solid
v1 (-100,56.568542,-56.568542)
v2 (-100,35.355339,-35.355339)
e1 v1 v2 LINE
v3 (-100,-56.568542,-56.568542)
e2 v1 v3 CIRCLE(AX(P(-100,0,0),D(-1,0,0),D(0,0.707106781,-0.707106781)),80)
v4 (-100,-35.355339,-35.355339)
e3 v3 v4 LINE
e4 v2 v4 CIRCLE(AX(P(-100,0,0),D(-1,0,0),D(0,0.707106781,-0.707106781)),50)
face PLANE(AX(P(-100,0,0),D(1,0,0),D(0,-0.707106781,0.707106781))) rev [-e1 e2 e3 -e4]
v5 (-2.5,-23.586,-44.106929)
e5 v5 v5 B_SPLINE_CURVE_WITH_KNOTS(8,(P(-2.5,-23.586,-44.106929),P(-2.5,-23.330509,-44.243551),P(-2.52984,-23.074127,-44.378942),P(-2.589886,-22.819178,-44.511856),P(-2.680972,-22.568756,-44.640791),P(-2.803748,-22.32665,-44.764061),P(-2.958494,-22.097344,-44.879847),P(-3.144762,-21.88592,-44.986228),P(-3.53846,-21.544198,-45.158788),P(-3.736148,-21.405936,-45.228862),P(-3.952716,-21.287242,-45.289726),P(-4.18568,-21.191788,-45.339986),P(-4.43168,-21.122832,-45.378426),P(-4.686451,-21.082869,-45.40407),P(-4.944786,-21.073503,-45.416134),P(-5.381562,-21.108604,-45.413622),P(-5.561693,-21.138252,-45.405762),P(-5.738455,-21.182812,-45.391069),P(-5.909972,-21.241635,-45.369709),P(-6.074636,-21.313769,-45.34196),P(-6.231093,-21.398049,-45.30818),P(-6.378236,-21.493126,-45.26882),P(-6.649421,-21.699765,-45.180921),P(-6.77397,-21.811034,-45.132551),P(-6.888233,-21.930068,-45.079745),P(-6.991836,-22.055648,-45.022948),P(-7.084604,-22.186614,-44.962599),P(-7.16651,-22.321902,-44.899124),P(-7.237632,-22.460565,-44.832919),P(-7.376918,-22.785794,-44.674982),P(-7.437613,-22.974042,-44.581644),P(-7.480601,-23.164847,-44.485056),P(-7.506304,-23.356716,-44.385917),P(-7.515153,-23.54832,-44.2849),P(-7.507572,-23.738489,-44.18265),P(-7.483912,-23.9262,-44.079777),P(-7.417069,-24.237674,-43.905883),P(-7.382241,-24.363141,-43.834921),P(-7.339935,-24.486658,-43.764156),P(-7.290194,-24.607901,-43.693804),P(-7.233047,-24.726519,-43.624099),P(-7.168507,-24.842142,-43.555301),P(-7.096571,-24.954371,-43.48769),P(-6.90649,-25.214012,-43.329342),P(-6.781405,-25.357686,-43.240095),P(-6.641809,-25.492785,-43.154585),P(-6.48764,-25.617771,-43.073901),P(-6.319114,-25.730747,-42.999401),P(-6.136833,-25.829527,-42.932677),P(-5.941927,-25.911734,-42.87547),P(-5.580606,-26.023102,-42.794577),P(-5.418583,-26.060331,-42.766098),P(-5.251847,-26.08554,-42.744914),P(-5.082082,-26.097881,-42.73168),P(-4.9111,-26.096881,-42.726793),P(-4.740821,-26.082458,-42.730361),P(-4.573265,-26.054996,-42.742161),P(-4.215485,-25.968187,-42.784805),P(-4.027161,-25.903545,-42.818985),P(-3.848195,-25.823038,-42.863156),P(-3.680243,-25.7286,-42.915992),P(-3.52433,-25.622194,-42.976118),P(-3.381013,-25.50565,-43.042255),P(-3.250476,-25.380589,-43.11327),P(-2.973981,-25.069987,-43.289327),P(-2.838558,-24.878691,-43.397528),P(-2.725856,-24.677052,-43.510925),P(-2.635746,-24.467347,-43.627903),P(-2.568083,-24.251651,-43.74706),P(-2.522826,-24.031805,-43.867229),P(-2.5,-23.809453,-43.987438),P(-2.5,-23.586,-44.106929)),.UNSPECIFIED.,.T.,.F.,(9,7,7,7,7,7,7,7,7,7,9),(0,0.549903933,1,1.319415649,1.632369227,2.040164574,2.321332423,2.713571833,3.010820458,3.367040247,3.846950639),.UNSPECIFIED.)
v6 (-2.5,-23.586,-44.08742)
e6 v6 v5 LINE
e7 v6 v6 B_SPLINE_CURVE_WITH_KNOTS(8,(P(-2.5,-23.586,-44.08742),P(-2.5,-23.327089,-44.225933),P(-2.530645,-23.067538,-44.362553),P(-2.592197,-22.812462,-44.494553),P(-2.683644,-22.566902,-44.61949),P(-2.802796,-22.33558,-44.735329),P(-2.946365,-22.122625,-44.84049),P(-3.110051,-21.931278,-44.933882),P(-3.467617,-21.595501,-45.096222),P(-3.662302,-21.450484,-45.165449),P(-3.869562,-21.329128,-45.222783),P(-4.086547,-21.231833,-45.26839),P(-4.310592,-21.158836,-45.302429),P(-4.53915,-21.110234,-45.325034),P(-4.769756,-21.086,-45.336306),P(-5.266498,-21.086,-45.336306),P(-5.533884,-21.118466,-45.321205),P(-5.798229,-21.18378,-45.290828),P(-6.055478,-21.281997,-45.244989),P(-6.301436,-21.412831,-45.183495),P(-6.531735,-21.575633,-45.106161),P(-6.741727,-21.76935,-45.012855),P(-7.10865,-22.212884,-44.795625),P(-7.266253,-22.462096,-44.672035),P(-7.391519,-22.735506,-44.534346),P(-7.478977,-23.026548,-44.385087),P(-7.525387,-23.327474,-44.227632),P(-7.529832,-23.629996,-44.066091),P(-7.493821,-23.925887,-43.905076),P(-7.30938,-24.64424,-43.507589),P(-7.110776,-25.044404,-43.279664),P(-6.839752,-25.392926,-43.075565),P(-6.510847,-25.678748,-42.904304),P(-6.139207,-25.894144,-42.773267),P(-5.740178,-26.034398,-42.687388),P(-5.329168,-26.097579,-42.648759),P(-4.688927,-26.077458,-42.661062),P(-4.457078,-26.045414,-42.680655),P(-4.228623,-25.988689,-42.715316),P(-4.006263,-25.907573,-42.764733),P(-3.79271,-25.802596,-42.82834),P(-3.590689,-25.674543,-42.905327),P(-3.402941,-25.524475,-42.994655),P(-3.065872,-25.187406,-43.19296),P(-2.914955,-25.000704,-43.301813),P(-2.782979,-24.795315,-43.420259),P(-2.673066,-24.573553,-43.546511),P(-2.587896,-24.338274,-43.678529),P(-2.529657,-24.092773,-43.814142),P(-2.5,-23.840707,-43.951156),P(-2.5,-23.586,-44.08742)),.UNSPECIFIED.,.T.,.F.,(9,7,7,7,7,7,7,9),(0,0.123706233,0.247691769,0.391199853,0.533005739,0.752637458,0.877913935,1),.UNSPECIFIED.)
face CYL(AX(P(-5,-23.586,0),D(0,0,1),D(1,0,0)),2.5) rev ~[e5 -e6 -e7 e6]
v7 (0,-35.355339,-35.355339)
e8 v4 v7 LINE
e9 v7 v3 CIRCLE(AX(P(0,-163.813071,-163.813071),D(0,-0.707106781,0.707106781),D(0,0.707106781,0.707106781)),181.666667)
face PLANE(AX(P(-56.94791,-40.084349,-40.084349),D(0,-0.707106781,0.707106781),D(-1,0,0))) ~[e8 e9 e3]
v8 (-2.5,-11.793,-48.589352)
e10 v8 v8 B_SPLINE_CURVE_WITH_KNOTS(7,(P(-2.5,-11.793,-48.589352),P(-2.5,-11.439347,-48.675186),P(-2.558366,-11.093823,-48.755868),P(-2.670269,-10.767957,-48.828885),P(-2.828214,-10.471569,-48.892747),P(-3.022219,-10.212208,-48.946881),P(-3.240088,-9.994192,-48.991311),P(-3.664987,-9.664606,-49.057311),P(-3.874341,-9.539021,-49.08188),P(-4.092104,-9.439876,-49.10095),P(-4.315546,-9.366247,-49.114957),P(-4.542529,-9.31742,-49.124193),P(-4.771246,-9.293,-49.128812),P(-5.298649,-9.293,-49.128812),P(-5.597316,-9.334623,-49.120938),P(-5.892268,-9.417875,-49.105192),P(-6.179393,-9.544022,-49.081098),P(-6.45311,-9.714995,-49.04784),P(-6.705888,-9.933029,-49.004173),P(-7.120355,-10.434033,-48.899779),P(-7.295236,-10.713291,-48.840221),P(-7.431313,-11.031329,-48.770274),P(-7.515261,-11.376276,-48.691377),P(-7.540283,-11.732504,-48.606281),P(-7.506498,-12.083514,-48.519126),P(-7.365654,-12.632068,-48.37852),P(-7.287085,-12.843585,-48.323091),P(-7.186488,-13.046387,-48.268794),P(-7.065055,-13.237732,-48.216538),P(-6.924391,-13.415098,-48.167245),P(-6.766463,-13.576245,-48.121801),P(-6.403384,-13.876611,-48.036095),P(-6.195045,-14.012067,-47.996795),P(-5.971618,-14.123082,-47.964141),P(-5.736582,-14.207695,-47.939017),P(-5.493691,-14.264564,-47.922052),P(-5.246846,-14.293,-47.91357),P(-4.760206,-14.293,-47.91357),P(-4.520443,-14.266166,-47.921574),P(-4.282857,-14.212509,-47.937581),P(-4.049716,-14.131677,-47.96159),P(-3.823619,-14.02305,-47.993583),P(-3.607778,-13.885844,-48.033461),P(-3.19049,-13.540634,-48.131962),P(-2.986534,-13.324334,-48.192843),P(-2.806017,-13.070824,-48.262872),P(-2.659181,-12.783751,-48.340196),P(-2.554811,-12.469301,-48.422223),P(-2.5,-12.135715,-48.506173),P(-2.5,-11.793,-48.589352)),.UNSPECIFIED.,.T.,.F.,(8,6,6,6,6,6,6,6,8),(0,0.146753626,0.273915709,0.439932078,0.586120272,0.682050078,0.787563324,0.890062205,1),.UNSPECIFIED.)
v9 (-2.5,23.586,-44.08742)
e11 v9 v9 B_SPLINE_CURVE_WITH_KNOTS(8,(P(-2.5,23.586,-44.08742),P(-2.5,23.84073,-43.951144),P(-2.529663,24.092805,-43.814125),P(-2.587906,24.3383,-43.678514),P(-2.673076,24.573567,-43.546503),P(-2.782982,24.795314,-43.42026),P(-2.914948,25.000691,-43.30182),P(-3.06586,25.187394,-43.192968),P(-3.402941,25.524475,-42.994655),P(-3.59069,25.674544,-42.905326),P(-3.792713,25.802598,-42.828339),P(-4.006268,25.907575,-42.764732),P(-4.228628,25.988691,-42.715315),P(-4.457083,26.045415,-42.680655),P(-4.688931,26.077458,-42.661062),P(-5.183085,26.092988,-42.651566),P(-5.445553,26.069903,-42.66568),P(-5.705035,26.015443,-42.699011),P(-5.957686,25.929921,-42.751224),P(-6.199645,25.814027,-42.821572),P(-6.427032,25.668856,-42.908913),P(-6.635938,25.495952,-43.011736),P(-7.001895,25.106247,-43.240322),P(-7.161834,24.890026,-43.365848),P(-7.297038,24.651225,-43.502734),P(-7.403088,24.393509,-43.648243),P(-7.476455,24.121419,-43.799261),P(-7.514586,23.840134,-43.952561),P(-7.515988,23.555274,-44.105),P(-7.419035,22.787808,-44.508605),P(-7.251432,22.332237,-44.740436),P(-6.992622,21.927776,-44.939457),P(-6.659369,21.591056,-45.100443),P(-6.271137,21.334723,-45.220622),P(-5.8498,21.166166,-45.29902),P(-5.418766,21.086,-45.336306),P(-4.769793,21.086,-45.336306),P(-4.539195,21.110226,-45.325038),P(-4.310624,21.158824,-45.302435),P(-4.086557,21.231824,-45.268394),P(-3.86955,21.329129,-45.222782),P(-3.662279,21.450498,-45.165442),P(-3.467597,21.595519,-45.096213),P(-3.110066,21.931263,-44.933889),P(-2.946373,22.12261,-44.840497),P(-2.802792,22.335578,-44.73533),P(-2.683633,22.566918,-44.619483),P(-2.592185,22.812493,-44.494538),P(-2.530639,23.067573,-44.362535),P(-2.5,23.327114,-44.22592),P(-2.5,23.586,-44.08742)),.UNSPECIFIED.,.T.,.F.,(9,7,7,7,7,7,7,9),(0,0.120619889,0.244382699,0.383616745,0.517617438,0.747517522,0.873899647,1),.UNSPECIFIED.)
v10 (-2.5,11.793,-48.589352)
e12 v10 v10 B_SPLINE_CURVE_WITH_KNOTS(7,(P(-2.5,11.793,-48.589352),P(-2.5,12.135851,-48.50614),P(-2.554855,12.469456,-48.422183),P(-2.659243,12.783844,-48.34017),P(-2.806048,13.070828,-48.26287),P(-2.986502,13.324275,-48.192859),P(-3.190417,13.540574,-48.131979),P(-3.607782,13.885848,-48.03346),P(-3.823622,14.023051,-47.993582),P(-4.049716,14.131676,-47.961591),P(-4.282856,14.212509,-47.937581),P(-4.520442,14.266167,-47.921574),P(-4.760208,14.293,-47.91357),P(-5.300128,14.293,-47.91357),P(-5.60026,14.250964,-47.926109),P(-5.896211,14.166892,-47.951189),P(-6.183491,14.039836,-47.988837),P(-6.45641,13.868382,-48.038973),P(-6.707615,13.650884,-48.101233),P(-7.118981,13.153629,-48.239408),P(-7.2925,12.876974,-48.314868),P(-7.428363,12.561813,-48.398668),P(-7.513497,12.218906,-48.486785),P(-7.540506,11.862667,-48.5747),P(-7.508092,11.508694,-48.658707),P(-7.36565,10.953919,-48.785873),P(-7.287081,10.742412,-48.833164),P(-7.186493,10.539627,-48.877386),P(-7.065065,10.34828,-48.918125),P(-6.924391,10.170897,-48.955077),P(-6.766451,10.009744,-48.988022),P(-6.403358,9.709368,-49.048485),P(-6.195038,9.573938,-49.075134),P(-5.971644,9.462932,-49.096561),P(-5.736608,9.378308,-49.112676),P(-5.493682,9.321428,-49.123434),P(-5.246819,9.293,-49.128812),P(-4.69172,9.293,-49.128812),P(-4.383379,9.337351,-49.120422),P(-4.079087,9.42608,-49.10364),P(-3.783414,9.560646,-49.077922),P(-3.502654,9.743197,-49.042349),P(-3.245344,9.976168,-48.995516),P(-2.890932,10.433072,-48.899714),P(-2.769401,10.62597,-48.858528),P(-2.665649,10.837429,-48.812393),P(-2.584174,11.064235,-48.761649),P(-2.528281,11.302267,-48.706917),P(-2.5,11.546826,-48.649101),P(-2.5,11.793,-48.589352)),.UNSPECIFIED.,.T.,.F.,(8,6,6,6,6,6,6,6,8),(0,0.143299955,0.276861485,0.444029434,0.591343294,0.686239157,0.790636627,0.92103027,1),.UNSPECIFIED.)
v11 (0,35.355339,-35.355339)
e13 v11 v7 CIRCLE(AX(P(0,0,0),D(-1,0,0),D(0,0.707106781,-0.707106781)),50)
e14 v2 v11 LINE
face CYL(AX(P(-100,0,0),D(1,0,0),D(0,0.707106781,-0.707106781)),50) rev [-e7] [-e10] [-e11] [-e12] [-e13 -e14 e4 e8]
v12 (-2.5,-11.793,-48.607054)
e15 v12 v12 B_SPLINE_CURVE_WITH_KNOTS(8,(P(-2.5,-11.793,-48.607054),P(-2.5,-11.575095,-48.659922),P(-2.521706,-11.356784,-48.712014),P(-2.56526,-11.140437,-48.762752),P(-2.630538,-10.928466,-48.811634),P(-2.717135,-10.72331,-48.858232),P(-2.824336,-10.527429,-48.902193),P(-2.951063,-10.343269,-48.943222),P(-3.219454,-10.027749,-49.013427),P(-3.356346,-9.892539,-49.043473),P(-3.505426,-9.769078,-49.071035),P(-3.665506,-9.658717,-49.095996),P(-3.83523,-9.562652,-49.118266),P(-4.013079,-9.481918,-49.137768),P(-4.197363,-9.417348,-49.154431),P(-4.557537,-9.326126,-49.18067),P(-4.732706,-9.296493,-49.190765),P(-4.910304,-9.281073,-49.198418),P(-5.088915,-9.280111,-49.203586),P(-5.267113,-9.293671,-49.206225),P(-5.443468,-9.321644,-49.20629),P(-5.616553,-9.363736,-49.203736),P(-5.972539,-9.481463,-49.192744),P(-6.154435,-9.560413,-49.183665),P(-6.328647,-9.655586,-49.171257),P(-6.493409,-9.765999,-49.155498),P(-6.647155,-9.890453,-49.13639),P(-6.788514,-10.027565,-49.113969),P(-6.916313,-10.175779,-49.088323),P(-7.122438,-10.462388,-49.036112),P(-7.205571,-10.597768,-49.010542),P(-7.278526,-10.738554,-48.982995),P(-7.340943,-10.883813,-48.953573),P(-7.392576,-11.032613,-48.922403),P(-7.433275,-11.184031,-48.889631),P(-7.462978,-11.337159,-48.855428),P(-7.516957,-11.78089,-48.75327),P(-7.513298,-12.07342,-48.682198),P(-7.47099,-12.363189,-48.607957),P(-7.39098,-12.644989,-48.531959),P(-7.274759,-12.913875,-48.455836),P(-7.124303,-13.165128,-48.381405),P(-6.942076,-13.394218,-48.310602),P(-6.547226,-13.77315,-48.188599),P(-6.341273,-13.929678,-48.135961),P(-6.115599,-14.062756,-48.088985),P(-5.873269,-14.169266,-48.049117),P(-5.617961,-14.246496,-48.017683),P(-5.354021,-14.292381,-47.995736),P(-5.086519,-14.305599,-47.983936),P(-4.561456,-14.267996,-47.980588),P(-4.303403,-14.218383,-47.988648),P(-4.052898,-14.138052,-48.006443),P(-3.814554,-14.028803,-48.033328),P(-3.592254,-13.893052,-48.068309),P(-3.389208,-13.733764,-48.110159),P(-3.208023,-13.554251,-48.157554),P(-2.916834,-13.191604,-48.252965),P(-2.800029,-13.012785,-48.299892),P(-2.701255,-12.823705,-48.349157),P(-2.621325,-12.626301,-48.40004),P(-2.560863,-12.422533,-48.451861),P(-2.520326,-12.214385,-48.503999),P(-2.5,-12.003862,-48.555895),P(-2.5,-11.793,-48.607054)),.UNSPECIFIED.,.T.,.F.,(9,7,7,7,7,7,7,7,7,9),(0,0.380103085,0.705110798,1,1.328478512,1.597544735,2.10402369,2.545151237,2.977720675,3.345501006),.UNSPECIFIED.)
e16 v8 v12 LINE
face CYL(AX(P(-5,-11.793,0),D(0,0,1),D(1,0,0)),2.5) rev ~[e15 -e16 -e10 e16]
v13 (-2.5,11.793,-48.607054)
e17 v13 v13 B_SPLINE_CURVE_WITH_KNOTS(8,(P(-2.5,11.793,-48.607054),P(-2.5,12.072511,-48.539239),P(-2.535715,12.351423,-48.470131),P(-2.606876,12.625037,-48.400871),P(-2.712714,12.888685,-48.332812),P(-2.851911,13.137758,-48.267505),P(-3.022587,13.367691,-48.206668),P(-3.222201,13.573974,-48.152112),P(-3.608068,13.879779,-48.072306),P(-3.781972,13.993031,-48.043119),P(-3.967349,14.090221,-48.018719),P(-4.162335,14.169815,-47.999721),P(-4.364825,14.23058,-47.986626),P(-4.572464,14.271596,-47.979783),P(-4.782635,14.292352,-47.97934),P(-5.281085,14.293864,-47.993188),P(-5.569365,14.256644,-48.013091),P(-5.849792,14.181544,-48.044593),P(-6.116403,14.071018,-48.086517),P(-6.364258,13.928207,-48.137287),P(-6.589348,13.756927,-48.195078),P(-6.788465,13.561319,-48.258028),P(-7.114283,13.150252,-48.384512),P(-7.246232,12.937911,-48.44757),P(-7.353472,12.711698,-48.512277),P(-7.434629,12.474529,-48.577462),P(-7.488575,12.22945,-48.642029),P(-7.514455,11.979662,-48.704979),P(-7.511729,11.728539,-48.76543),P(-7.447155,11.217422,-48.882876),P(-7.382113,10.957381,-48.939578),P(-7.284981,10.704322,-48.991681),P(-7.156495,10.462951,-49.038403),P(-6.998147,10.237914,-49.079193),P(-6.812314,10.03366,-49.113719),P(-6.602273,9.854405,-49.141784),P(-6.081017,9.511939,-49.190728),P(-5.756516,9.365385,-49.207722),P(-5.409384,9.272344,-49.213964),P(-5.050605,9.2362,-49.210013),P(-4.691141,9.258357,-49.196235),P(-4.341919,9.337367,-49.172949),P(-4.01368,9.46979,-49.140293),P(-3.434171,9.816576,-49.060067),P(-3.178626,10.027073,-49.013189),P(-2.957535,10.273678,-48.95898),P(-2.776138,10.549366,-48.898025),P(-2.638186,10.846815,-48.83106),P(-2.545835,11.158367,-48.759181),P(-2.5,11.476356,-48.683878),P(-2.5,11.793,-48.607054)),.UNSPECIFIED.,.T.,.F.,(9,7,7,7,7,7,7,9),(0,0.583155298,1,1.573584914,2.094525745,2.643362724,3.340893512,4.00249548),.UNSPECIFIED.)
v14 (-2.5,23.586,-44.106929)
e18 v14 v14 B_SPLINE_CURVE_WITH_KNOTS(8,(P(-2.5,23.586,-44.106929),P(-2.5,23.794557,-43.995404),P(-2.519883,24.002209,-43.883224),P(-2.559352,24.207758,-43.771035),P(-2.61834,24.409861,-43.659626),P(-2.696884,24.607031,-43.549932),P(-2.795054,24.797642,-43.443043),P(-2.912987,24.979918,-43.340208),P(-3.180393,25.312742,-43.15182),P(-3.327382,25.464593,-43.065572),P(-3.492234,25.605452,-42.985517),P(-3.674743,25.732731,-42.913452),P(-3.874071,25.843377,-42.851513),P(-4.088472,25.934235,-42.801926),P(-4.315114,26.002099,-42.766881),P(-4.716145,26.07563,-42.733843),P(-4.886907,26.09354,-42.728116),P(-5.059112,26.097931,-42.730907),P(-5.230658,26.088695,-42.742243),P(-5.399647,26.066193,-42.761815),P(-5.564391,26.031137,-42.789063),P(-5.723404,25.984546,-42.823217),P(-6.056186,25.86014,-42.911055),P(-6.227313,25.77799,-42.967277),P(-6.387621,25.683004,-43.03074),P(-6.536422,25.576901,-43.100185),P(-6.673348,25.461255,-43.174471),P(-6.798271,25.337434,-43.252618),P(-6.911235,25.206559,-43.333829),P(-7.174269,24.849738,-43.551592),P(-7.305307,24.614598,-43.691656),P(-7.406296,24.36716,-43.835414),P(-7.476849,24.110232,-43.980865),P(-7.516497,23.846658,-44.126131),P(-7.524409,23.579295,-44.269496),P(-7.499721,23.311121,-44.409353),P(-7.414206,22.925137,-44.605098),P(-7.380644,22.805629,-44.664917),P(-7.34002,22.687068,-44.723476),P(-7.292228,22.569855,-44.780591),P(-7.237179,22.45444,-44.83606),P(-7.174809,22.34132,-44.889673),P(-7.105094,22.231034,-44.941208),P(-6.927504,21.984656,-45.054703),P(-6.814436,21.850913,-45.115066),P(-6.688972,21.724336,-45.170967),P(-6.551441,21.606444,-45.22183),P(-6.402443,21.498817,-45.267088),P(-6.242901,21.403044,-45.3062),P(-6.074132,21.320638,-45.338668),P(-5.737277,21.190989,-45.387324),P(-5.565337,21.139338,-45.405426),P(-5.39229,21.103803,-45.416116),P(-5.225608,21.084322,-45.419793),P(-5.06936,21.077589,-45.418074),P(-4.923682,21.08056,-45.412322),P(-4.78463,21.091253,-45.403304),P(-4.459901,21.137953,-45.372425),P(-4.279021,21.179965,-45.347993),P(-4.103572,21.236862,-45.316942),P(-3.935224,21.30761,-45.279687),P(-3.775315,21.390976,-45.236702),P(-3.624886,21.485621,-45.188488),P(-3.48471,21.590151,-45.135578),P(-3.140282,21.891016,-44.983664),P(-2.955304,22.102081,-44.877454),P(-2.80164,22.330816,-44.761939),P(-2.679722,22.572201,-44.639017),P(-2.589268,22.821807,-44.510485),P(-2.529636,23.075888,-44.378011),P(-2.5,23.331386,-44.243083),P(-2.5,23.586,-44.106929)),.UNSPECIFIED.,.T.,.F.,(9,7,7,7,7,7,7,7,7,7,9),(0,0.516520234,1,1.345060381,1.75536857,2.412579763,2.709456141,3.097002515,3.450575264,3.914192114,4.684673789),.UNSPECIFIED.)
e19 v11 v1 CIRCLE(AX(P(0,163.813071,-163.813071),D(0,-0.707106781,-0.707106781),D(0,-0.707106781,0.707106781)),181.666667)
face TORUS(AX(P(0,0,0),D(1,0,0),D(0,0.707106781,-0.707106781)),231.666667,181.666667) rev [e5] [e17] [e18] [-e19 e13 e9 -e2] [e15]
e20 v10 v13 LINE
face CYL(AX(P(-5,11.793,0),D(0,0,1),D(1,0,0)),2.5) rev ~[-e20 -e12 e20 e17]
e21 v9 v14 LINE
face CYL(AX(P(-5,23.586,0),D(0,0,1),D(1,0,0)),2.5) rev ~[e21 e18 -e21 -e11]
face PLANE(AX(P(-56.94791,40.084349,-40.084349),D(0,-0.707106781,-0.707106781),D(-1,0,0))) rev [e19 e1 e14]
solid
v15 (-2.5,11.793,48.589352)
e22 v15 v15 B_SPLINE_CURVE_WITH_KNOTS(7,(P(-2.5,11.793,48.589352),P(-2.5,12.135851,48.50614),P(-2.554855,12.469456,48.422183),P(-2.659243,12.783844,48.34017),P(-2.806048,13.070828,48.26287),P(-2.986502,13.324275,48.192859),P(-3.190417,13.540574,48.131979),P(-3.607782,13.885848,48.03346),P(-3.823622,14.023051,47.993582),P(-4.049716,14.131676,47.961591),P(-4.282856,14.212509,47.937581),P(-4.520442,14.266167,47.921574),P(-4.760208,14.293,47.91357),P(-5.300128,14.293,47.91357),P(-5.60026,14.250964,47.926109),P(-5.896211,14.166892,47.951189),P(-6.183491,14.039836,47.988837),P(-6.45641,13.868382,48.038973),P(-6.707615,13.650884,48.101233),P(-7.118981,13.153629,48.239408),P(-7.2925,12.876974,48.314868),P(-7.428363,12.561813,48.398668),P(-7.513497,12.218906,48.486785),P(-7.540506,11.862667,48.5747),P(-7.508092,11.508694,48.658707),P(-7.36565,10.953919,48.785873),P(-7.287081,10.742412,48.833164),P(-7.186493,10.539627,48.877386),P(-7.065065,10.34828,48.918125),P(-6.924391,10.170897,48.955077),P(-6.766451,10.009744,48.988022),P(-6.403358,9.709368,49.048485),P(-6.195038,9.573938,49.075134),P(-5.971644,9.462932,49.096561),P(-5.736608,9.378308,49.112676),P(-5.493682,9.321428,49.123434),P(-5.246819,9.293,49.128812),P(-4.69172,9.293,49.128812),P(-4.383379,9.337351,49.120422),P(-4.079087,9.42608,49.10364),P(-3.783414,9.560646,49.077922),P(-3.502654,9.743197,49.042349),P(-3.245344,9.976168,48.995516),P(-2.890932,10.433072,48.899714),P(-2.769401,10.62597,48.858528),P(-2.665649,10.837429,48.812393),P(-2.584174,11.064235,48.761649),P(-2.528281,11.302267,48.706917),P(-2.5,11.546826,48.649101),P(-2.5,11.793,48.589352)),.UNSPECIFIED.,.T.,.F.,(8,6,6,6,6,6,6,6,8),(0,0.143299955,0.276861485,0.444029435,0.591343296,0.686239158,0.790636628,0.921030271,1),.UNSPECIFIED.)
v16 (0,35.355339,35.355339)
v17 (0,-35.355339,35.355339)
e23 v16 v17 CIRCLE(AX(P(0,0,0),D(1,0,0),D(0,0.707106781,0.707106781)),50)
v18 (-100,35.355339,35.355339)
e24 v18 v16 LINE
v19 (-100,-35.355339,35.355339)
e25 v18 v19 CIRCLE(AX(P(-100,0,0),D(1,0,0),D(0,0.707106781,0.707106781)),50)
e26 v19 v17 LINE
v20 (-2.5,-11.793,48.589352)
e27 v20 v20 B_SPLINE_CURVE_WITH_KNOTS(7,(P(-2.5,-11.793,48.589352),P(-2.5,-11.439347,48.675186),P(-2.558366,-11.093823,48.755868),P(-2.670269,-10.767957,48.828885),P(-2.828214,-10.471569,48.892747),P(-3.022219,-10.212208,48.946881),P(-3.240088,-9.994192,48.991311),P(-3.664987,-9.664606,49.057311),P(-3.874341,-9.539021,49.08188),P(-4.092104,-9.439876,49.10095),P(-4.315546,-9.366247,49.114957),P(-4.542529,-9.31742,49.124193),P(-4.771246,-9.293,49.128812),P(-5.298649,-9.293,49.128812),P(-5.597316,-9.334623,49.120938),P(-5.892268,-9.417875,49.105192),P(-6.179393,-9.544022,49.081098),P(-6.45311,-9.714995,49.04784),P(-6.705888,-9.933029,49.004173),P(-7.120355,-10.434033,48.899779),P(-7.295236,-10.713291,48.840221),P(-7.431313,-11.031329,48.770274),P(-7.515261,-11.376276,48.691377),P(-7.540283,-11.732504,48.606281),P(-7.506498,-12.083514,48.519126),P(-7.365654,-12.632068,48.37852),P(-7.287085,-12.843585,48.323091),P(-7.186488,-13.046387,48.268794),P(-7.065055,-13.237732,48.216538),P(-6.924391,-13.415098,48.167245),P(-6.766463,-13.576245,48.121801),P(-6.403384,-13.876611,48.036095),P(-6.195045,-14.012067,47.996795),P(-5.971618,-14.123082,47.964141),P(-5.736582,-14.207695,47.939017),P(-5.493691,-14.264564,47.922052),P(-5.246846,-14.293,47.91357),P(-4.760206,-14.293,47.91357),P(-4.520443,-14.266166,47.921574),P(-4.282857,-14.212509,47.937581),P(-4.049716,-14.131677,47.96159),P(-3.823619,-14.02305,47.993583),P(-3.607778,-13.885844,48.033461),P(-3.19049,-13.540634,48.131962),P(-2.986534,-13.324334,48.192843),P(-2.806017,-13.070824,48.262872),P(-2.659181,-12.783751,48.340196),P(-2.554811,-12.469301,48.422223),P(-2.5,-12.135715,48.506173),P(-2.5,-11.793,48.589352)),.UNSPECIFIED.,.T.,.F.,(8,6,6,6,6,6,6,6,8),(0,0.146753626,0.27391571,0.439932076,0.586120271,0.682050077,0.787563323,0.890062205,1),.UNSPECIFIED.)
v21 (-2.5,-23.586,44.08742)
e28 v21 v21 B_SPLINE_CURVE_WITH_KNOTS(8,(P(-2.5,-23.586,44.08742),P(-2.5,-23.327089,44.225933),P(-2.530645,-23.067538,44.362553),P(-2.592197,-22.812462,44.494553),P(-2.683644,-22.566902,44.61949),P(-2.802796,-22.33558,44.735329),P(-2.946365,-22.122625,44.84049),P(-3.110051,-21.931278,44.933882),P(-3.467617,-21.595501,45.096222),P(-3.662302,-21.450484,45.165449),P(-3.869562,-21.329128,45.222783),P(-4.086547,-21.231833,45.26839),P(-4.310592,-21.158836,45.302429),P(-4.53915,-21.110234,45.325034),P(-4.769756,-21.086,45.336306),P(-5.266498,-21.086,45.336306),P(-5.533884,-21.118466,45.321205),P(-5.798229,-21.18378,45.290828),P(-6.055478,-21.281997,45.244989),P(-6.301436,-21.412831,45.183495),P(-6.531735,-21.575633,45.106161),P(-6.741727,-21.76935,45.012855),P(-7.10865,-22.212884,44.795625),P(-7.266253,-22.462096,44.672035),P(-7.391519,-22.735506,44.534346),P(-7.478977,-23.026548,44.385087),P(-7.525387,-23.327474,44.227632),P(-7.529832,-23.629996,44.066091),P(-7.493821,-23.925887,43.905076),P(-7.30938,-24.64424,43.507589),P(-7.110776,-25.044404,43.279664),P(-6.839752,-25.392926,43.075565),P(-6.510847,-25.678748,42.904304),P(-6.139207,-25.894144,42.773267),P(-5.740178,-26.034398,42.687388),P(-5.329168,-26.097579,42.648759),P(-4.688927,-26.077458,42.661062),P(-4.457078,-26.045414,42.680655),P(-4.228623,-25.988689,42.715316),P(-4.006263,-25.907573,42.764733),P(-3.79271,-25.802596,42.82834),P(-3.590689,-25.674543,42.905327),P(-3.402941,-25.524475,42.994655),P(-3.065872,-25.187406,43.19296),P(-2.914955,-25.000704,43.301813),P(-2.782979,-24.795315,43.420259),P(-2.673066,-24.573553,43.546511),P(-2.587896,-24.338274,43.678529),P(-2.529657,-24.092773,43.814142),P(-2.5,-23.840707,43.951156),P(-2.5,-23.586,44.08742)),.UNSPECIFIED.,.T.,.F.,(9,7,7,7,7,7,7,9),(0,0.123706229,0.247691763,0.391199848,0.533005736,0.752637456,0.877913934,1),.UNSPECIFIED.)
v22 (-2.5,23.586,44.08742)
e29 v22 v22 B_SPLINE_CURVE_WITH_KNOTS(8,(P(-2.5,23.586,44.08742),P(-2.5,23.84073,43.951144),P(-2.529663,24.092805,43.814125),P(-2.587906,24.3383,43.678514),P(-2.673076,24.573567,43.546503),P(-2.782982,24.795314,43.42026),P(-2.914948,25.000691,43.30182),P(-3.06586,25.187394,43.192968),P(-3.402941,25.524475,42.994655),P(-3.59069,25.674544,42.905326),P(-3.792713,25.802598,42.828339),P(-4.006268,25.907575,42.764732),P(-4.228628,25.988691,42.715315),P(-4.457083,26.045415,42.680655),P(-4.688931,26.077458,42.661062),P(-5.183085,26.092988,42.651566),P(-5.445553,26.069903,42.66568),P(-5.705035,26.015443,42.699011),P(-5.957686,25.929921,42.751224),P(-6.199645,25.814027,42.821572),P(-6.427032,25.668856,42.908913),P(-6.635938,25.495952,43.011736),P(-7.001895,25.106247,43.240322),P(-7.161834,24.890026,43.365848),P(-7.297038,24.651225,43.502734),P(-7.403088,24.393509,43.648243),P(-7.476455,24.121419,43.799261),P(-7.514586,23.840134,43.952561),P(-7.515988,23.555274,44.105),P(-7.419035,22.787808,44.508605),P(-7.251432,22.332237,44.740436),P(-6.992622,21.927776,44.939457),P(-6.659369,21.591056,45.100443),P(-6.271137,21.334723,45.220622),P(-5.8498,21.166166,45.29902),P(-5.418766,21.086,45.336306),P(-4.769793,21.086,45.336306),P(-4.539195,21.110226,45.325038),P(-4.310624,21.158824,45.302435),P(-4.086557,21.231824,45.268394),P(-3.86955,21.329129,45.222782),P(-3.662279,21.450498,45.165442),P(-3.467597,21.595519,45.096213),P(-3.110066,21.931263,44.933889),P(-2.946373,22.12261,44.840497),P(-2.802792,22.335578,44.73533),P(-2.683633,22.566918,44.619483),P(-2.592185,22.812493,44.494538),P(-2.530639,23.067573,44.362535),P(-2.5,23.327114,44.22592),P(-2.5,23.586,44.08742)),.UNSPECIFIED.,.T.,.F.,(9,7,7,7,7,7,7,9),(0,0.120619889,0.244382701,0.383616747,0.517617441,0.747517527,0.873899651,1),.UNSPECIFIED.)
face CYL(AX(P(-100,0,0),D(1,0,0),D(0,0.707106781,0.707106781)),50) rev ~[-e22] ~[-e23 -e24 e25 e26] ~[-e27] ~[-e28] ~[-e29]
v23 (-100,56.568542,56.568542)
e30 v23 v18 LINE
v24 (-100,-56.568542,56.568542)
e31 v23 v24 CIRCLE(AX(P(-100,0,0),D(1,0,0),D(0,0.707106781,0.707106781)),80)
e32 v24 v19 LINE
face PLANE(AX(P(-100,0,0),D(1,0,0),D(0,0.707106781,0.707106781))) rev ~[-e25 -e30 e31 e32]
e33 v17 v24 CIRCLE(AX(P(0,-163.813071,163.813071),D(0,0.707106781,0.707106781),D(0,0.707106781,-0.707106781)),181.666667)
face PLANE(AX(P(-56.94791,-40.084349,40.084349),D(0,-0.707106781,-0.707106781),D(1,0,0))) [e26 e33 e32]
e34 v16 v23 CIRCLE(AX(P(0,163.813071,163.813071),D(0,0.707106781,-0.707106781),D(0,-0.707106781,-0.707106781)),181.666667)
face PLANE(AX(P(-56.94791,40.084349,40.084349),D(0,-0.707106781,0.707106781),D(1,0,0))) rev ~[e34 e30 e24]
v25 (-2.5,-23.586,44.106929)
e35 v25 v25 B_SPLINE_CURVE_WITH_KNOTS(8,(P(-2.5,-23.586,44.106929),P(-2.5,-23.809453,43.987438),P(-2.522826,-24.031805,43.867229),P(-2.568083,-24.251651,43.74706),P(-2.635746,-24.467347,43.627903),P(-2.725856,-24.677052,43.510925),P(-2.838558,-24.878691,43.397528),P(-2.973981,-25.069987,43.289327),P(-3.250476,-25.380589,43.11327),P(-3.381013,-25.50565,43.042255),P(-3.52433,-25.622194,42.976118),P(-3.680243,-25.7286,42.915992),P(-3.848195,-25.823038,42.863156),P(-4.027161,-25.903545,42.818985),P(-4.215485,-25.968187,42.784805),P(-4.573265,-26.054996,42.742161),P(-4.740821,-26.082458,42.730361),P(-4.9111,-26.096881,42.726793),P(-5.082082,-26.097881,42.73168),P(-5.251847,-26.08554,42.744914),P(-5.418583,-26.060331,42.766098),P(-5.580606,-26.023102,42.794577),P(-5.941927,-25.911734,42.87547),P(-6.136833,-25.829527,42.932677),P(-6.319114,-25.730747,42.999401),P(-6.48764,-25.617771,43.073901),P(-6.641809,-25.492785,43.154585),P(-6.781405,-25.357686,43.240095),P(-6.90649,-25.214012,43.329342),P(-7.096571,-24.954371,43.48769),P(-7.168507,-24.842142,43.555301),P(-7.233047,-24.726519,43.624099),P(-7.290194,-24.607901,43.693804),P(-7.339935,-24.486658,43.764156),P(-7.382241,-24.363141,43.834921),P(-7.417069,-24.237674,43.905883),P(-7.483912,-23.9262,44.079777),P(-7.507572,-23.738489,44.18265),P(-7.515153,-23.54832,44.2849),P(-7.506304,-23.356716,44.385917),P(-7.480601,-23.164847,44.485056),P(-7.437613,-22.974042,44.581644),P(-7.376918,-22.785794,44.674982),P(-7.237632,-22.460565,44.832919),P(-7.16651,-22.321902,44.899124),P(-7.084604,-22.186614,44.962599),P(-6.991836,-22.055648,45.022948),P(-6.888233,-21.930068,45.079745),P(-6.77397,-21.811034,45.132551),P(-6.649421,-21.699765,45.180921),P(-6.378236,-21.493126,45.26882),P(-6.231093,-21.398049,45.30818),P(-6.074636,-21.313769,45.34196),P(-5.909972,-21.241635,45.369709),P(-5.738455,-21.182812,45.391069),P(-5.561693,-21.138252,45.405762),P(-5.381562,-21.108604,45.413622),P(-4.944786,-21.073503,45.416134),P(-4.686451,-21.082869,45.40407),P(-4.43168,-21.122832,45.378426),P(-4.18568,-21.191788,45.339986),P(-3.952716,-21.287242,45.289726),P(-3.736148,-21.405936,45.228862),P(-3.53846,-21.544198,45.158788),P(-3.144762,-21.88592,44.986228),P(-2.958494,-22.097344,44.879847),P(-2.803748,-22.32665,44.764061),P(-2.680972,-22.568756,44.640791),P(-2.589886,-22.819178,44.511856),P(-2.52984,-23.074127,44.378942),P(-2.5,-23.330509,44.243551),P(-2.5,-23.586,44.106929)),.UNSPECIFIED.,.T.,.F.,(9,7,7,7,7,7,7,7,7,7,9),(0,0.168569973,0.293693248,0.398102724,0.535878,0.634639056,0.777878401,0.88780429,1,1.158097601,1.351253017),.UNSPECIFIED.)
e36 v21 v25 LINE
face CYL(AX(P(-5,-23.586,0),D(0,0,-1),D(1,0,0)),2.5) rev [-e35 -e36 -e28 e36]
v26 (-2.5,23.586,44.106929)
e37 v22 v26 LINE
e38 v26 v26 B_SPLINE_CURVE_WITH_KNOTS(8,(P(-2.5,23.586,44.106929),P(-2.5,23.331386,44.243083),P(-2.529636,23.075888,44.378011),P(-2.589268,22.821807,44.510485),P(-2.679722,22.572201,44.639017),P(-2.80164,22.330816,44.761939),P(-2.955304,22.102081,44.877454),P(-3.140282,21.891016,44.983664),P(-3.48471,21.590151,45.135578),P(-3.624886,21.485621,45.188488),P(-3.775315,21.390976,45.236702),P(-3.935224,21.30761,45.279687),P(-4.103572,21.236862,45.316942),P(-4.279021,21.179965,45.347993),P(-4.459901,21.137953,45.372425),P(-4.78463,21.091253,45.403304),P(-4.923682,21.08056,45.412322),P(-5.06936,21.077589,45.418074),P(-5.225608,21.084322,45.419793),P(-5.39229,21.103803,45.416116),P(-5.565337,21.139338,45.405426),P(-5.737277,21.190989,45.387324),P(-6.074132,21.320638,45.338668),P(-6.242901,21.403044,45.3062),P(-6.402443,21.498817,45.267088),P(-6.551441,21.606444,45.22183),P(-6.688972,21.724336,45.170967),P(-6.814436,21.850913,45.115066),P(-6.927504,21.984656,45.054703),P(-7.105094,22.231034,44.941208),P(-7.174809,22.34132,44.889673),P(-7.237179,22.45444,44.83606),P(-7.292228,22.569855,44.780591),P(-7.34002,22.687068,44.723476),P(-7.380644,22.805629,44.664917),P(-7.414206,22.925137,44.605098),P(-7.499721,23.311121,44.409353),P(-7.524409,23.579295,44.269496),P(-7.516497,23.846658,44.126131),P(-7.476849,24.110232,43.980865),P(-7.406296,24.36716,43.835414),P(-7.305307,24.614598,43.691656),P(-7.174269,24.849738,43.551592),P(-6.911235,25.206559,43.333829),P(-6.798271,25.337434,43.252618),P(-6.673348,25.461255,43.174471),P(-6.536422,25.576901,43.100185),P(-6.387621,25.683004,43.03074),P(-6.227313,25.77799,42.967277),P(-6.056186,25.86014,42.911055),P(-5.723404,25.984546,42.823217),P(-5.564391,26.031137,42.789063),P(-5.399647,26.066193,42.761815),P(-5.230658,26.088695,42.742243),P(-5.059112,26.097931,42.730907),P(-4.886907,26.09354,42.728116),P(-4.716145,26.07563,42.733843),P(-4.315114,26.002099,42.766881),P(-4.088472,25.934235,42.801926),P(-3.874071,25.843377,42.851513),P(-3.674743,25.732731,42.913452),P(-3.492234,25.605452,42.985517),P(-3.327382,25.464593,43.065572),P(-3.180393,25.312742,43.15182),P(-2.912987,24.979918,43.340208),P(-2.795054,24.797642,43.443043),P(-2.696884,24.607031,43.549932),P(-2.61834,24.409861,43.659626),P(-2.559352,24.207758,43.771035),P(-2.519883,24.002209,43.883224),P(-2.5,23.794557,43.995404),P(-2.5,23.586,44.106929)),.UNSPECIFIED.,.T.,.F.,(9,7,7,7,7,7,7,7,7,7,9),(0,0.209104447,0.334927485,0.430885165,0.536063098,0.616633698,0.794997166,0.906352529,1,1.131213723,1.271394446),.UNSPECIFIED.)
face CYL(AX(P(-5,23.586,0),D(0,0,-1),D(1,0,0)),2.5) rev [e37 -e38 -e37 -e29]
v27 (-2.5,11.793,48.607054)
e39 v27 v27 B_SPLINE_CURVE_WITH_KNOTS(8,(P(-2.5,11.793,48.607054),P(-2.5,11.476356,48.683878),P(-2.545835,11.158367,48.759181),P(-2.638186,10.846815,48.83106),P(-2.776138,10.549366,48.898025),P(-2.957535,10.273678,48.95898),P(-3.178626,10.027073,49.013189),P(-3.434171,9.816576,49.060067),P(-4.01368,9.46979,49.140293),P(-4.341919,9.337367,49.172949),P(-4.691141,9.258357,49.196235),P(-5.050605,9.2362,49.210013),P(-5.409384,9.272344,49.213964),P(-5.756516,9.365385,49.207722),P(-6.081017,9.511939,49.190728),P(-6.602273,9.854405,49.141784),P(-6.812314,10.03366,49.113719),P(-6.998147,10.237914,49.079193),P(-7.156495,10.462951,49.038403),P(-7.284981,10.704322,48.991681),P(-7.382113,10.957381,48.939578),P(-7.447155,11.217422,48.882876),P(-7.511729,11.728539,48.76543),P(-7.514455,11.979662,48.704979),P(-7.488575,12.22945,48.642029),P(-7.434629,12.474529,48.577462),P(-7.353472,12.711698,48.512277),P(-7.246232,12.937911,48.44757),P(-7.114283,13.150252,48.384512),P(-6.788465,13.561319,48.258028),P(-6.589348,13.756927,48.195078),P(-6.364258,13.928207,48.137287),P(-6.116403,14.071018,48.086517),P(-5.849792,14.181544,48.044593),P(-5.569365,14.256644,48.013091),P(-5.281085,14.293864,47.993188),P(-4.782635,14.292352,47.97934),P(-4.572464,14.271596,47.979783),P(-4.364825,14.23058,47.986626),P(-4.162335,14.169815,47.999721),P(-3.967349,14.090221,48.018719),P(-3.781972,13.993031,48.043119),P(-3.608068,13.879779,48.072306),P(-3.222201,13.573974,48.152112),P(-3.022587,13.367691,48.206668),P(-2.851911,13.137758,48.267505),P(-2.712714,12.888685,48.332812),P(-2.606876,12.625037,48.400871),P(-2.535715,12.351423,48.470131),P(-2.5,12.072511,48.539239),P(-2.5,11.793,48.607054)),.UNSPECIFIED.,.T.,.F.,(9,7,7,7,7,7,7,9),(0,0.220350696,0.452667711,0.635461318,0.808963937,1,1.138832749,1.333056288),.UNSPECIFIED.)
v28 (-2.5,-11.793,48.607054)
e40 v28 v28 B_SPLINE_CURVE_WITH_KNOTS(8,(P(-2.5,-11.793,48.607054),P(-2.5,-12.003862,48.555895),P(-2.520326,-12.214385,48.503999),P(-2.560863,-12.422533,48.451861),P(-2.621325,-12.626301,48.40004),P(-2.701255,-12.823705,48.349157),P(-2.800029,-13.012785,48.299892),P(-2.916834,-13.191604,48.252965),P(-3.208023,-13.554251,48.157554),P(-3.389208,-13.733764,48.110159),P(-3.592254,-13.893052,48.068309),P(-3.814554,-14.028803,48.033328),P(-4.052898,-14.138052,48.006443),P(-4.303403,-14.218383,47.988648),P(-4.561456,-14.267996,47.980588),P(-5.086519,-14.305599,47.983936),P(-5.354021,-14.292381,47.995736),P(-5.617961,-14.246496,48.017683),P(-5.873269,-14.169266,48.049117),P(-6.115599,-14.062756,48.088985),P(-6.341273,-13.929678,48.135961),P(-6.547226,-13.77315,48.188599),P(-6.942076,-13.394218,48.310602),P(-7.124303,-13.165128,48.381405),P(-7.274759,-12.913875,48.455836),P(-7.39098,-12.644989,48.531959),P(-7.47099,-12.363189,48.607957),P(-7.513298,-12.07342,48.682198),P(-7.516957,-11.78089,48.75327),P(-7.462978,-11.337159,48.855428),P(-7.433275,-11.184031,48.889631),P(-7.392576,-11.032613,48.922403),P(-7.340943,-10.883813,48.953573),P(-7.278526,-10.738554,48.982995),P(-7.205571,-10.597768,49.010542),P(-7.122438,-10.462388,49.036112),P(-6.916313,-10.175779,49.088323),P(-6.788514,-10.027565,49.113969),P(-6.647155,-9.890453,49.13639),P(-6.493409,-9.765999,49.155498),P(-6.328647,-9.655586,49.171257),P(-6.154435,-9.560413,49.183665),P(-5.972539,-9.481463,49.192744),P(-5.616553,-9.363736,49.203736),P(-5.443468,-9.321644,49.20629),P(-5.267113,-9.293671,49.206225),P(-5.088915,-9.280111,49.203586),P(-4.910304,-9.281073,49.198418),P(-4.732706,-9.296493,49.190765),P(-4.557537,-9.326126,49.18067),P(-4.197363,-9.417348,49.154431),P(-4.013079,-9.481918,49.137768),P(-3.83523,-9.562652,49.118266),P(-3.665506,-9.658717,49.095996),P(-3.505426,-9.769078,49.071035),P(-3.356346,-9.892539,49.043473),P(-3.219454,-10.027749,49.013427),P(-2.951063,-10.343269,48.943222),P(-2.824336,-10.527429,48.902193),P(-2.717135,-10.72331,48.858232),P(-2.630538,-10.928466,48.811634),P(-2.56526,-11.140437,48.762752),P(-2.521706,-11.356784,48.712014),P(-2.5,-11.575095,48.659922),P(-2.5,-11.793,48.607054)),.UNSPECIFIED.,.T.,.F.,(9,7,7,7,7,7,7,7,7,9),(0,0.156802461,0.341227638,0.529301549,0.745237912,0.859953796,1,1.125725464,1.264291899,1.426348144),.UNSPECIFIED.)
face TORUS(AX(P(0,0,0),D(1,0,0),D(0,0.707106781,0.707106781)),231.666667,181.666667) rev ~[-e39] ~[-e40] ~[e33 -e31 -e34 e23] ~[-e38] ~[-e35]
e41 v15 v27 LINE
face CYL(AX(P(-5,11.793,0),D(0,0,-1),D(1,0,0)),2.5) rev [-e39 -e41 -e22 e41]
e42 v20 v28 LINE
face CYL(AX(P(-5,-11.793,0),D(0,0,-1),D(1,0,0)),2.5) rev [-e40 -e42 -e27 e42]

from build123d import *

# Parameters (mm, degrees)
F1_ANGLE_BACK = 45
F1_ANGLE      = 90
F3_R          = 2.5
F4_DEPTH      = 150
F5_DEPTH      = 150


with BuildPart() as f1:
    # F0 (on Front) → F1 (revolve)
    with BuildSketch(Plane.XZ, mode=Mode.PRIVATE) as f1_sk:
        with BuildLine():
            Line((-100, 50), (0, 50))
            ThreePointArc((0, 50), (-52.2015325446, 57.6615581848), (-100, 80))
            Line((-100, 80), (-100, 50))
        make_face()
    revolve(f1_sk.sketch.rotate(Axis((-1.5377178788, 0, 0), (1, 0, 0)), -F1_ANGLE_BACK), axis=Axis((-1.5377178788, 0, 0), (1, 0, 0)), revolution_arc=F1_ANGLE)


with BuildPart() as f2_1:
    # F2: instance of F1
    add(f1.part.mirror(Plane.XY))

    # F3 (on Top) → F4 (cut)
    with BuildSketch(Plane.XY):
        with Locations((-5, 11.793)):
            Circle(F3_R)
        with Locations((-5, 23.586)):
            Circle(F3_R)
        with Locations((-5, -23.586)):
            Circle(F3_R)
        with Locations((-5, -11.793)):
            Circle(F3_R)
    extrude(amount=-F4_DEPTH, mode=Mode.SUBTRACT)


with BuildPart() as f1_1:
    add(f1.part)

    # F3 (on Top) → F5 (cut)
    with BuildSketch(Plane.XY):
        with Locations((-5, 11.793)):
            Circle(F3_R)
        with Locations((-5, 23.586)):
            Circle(F3_R)
        with Locations((-5, -23.586)):
            Circle(F3_R)
        with Locations((-5, -11.793)):
            Circle(F3_R)
    extrude(amount=F5_DEPTH, mode=Mode.SUBTRACT)


solid = Compound([f2_1.part, f1_1.part])
